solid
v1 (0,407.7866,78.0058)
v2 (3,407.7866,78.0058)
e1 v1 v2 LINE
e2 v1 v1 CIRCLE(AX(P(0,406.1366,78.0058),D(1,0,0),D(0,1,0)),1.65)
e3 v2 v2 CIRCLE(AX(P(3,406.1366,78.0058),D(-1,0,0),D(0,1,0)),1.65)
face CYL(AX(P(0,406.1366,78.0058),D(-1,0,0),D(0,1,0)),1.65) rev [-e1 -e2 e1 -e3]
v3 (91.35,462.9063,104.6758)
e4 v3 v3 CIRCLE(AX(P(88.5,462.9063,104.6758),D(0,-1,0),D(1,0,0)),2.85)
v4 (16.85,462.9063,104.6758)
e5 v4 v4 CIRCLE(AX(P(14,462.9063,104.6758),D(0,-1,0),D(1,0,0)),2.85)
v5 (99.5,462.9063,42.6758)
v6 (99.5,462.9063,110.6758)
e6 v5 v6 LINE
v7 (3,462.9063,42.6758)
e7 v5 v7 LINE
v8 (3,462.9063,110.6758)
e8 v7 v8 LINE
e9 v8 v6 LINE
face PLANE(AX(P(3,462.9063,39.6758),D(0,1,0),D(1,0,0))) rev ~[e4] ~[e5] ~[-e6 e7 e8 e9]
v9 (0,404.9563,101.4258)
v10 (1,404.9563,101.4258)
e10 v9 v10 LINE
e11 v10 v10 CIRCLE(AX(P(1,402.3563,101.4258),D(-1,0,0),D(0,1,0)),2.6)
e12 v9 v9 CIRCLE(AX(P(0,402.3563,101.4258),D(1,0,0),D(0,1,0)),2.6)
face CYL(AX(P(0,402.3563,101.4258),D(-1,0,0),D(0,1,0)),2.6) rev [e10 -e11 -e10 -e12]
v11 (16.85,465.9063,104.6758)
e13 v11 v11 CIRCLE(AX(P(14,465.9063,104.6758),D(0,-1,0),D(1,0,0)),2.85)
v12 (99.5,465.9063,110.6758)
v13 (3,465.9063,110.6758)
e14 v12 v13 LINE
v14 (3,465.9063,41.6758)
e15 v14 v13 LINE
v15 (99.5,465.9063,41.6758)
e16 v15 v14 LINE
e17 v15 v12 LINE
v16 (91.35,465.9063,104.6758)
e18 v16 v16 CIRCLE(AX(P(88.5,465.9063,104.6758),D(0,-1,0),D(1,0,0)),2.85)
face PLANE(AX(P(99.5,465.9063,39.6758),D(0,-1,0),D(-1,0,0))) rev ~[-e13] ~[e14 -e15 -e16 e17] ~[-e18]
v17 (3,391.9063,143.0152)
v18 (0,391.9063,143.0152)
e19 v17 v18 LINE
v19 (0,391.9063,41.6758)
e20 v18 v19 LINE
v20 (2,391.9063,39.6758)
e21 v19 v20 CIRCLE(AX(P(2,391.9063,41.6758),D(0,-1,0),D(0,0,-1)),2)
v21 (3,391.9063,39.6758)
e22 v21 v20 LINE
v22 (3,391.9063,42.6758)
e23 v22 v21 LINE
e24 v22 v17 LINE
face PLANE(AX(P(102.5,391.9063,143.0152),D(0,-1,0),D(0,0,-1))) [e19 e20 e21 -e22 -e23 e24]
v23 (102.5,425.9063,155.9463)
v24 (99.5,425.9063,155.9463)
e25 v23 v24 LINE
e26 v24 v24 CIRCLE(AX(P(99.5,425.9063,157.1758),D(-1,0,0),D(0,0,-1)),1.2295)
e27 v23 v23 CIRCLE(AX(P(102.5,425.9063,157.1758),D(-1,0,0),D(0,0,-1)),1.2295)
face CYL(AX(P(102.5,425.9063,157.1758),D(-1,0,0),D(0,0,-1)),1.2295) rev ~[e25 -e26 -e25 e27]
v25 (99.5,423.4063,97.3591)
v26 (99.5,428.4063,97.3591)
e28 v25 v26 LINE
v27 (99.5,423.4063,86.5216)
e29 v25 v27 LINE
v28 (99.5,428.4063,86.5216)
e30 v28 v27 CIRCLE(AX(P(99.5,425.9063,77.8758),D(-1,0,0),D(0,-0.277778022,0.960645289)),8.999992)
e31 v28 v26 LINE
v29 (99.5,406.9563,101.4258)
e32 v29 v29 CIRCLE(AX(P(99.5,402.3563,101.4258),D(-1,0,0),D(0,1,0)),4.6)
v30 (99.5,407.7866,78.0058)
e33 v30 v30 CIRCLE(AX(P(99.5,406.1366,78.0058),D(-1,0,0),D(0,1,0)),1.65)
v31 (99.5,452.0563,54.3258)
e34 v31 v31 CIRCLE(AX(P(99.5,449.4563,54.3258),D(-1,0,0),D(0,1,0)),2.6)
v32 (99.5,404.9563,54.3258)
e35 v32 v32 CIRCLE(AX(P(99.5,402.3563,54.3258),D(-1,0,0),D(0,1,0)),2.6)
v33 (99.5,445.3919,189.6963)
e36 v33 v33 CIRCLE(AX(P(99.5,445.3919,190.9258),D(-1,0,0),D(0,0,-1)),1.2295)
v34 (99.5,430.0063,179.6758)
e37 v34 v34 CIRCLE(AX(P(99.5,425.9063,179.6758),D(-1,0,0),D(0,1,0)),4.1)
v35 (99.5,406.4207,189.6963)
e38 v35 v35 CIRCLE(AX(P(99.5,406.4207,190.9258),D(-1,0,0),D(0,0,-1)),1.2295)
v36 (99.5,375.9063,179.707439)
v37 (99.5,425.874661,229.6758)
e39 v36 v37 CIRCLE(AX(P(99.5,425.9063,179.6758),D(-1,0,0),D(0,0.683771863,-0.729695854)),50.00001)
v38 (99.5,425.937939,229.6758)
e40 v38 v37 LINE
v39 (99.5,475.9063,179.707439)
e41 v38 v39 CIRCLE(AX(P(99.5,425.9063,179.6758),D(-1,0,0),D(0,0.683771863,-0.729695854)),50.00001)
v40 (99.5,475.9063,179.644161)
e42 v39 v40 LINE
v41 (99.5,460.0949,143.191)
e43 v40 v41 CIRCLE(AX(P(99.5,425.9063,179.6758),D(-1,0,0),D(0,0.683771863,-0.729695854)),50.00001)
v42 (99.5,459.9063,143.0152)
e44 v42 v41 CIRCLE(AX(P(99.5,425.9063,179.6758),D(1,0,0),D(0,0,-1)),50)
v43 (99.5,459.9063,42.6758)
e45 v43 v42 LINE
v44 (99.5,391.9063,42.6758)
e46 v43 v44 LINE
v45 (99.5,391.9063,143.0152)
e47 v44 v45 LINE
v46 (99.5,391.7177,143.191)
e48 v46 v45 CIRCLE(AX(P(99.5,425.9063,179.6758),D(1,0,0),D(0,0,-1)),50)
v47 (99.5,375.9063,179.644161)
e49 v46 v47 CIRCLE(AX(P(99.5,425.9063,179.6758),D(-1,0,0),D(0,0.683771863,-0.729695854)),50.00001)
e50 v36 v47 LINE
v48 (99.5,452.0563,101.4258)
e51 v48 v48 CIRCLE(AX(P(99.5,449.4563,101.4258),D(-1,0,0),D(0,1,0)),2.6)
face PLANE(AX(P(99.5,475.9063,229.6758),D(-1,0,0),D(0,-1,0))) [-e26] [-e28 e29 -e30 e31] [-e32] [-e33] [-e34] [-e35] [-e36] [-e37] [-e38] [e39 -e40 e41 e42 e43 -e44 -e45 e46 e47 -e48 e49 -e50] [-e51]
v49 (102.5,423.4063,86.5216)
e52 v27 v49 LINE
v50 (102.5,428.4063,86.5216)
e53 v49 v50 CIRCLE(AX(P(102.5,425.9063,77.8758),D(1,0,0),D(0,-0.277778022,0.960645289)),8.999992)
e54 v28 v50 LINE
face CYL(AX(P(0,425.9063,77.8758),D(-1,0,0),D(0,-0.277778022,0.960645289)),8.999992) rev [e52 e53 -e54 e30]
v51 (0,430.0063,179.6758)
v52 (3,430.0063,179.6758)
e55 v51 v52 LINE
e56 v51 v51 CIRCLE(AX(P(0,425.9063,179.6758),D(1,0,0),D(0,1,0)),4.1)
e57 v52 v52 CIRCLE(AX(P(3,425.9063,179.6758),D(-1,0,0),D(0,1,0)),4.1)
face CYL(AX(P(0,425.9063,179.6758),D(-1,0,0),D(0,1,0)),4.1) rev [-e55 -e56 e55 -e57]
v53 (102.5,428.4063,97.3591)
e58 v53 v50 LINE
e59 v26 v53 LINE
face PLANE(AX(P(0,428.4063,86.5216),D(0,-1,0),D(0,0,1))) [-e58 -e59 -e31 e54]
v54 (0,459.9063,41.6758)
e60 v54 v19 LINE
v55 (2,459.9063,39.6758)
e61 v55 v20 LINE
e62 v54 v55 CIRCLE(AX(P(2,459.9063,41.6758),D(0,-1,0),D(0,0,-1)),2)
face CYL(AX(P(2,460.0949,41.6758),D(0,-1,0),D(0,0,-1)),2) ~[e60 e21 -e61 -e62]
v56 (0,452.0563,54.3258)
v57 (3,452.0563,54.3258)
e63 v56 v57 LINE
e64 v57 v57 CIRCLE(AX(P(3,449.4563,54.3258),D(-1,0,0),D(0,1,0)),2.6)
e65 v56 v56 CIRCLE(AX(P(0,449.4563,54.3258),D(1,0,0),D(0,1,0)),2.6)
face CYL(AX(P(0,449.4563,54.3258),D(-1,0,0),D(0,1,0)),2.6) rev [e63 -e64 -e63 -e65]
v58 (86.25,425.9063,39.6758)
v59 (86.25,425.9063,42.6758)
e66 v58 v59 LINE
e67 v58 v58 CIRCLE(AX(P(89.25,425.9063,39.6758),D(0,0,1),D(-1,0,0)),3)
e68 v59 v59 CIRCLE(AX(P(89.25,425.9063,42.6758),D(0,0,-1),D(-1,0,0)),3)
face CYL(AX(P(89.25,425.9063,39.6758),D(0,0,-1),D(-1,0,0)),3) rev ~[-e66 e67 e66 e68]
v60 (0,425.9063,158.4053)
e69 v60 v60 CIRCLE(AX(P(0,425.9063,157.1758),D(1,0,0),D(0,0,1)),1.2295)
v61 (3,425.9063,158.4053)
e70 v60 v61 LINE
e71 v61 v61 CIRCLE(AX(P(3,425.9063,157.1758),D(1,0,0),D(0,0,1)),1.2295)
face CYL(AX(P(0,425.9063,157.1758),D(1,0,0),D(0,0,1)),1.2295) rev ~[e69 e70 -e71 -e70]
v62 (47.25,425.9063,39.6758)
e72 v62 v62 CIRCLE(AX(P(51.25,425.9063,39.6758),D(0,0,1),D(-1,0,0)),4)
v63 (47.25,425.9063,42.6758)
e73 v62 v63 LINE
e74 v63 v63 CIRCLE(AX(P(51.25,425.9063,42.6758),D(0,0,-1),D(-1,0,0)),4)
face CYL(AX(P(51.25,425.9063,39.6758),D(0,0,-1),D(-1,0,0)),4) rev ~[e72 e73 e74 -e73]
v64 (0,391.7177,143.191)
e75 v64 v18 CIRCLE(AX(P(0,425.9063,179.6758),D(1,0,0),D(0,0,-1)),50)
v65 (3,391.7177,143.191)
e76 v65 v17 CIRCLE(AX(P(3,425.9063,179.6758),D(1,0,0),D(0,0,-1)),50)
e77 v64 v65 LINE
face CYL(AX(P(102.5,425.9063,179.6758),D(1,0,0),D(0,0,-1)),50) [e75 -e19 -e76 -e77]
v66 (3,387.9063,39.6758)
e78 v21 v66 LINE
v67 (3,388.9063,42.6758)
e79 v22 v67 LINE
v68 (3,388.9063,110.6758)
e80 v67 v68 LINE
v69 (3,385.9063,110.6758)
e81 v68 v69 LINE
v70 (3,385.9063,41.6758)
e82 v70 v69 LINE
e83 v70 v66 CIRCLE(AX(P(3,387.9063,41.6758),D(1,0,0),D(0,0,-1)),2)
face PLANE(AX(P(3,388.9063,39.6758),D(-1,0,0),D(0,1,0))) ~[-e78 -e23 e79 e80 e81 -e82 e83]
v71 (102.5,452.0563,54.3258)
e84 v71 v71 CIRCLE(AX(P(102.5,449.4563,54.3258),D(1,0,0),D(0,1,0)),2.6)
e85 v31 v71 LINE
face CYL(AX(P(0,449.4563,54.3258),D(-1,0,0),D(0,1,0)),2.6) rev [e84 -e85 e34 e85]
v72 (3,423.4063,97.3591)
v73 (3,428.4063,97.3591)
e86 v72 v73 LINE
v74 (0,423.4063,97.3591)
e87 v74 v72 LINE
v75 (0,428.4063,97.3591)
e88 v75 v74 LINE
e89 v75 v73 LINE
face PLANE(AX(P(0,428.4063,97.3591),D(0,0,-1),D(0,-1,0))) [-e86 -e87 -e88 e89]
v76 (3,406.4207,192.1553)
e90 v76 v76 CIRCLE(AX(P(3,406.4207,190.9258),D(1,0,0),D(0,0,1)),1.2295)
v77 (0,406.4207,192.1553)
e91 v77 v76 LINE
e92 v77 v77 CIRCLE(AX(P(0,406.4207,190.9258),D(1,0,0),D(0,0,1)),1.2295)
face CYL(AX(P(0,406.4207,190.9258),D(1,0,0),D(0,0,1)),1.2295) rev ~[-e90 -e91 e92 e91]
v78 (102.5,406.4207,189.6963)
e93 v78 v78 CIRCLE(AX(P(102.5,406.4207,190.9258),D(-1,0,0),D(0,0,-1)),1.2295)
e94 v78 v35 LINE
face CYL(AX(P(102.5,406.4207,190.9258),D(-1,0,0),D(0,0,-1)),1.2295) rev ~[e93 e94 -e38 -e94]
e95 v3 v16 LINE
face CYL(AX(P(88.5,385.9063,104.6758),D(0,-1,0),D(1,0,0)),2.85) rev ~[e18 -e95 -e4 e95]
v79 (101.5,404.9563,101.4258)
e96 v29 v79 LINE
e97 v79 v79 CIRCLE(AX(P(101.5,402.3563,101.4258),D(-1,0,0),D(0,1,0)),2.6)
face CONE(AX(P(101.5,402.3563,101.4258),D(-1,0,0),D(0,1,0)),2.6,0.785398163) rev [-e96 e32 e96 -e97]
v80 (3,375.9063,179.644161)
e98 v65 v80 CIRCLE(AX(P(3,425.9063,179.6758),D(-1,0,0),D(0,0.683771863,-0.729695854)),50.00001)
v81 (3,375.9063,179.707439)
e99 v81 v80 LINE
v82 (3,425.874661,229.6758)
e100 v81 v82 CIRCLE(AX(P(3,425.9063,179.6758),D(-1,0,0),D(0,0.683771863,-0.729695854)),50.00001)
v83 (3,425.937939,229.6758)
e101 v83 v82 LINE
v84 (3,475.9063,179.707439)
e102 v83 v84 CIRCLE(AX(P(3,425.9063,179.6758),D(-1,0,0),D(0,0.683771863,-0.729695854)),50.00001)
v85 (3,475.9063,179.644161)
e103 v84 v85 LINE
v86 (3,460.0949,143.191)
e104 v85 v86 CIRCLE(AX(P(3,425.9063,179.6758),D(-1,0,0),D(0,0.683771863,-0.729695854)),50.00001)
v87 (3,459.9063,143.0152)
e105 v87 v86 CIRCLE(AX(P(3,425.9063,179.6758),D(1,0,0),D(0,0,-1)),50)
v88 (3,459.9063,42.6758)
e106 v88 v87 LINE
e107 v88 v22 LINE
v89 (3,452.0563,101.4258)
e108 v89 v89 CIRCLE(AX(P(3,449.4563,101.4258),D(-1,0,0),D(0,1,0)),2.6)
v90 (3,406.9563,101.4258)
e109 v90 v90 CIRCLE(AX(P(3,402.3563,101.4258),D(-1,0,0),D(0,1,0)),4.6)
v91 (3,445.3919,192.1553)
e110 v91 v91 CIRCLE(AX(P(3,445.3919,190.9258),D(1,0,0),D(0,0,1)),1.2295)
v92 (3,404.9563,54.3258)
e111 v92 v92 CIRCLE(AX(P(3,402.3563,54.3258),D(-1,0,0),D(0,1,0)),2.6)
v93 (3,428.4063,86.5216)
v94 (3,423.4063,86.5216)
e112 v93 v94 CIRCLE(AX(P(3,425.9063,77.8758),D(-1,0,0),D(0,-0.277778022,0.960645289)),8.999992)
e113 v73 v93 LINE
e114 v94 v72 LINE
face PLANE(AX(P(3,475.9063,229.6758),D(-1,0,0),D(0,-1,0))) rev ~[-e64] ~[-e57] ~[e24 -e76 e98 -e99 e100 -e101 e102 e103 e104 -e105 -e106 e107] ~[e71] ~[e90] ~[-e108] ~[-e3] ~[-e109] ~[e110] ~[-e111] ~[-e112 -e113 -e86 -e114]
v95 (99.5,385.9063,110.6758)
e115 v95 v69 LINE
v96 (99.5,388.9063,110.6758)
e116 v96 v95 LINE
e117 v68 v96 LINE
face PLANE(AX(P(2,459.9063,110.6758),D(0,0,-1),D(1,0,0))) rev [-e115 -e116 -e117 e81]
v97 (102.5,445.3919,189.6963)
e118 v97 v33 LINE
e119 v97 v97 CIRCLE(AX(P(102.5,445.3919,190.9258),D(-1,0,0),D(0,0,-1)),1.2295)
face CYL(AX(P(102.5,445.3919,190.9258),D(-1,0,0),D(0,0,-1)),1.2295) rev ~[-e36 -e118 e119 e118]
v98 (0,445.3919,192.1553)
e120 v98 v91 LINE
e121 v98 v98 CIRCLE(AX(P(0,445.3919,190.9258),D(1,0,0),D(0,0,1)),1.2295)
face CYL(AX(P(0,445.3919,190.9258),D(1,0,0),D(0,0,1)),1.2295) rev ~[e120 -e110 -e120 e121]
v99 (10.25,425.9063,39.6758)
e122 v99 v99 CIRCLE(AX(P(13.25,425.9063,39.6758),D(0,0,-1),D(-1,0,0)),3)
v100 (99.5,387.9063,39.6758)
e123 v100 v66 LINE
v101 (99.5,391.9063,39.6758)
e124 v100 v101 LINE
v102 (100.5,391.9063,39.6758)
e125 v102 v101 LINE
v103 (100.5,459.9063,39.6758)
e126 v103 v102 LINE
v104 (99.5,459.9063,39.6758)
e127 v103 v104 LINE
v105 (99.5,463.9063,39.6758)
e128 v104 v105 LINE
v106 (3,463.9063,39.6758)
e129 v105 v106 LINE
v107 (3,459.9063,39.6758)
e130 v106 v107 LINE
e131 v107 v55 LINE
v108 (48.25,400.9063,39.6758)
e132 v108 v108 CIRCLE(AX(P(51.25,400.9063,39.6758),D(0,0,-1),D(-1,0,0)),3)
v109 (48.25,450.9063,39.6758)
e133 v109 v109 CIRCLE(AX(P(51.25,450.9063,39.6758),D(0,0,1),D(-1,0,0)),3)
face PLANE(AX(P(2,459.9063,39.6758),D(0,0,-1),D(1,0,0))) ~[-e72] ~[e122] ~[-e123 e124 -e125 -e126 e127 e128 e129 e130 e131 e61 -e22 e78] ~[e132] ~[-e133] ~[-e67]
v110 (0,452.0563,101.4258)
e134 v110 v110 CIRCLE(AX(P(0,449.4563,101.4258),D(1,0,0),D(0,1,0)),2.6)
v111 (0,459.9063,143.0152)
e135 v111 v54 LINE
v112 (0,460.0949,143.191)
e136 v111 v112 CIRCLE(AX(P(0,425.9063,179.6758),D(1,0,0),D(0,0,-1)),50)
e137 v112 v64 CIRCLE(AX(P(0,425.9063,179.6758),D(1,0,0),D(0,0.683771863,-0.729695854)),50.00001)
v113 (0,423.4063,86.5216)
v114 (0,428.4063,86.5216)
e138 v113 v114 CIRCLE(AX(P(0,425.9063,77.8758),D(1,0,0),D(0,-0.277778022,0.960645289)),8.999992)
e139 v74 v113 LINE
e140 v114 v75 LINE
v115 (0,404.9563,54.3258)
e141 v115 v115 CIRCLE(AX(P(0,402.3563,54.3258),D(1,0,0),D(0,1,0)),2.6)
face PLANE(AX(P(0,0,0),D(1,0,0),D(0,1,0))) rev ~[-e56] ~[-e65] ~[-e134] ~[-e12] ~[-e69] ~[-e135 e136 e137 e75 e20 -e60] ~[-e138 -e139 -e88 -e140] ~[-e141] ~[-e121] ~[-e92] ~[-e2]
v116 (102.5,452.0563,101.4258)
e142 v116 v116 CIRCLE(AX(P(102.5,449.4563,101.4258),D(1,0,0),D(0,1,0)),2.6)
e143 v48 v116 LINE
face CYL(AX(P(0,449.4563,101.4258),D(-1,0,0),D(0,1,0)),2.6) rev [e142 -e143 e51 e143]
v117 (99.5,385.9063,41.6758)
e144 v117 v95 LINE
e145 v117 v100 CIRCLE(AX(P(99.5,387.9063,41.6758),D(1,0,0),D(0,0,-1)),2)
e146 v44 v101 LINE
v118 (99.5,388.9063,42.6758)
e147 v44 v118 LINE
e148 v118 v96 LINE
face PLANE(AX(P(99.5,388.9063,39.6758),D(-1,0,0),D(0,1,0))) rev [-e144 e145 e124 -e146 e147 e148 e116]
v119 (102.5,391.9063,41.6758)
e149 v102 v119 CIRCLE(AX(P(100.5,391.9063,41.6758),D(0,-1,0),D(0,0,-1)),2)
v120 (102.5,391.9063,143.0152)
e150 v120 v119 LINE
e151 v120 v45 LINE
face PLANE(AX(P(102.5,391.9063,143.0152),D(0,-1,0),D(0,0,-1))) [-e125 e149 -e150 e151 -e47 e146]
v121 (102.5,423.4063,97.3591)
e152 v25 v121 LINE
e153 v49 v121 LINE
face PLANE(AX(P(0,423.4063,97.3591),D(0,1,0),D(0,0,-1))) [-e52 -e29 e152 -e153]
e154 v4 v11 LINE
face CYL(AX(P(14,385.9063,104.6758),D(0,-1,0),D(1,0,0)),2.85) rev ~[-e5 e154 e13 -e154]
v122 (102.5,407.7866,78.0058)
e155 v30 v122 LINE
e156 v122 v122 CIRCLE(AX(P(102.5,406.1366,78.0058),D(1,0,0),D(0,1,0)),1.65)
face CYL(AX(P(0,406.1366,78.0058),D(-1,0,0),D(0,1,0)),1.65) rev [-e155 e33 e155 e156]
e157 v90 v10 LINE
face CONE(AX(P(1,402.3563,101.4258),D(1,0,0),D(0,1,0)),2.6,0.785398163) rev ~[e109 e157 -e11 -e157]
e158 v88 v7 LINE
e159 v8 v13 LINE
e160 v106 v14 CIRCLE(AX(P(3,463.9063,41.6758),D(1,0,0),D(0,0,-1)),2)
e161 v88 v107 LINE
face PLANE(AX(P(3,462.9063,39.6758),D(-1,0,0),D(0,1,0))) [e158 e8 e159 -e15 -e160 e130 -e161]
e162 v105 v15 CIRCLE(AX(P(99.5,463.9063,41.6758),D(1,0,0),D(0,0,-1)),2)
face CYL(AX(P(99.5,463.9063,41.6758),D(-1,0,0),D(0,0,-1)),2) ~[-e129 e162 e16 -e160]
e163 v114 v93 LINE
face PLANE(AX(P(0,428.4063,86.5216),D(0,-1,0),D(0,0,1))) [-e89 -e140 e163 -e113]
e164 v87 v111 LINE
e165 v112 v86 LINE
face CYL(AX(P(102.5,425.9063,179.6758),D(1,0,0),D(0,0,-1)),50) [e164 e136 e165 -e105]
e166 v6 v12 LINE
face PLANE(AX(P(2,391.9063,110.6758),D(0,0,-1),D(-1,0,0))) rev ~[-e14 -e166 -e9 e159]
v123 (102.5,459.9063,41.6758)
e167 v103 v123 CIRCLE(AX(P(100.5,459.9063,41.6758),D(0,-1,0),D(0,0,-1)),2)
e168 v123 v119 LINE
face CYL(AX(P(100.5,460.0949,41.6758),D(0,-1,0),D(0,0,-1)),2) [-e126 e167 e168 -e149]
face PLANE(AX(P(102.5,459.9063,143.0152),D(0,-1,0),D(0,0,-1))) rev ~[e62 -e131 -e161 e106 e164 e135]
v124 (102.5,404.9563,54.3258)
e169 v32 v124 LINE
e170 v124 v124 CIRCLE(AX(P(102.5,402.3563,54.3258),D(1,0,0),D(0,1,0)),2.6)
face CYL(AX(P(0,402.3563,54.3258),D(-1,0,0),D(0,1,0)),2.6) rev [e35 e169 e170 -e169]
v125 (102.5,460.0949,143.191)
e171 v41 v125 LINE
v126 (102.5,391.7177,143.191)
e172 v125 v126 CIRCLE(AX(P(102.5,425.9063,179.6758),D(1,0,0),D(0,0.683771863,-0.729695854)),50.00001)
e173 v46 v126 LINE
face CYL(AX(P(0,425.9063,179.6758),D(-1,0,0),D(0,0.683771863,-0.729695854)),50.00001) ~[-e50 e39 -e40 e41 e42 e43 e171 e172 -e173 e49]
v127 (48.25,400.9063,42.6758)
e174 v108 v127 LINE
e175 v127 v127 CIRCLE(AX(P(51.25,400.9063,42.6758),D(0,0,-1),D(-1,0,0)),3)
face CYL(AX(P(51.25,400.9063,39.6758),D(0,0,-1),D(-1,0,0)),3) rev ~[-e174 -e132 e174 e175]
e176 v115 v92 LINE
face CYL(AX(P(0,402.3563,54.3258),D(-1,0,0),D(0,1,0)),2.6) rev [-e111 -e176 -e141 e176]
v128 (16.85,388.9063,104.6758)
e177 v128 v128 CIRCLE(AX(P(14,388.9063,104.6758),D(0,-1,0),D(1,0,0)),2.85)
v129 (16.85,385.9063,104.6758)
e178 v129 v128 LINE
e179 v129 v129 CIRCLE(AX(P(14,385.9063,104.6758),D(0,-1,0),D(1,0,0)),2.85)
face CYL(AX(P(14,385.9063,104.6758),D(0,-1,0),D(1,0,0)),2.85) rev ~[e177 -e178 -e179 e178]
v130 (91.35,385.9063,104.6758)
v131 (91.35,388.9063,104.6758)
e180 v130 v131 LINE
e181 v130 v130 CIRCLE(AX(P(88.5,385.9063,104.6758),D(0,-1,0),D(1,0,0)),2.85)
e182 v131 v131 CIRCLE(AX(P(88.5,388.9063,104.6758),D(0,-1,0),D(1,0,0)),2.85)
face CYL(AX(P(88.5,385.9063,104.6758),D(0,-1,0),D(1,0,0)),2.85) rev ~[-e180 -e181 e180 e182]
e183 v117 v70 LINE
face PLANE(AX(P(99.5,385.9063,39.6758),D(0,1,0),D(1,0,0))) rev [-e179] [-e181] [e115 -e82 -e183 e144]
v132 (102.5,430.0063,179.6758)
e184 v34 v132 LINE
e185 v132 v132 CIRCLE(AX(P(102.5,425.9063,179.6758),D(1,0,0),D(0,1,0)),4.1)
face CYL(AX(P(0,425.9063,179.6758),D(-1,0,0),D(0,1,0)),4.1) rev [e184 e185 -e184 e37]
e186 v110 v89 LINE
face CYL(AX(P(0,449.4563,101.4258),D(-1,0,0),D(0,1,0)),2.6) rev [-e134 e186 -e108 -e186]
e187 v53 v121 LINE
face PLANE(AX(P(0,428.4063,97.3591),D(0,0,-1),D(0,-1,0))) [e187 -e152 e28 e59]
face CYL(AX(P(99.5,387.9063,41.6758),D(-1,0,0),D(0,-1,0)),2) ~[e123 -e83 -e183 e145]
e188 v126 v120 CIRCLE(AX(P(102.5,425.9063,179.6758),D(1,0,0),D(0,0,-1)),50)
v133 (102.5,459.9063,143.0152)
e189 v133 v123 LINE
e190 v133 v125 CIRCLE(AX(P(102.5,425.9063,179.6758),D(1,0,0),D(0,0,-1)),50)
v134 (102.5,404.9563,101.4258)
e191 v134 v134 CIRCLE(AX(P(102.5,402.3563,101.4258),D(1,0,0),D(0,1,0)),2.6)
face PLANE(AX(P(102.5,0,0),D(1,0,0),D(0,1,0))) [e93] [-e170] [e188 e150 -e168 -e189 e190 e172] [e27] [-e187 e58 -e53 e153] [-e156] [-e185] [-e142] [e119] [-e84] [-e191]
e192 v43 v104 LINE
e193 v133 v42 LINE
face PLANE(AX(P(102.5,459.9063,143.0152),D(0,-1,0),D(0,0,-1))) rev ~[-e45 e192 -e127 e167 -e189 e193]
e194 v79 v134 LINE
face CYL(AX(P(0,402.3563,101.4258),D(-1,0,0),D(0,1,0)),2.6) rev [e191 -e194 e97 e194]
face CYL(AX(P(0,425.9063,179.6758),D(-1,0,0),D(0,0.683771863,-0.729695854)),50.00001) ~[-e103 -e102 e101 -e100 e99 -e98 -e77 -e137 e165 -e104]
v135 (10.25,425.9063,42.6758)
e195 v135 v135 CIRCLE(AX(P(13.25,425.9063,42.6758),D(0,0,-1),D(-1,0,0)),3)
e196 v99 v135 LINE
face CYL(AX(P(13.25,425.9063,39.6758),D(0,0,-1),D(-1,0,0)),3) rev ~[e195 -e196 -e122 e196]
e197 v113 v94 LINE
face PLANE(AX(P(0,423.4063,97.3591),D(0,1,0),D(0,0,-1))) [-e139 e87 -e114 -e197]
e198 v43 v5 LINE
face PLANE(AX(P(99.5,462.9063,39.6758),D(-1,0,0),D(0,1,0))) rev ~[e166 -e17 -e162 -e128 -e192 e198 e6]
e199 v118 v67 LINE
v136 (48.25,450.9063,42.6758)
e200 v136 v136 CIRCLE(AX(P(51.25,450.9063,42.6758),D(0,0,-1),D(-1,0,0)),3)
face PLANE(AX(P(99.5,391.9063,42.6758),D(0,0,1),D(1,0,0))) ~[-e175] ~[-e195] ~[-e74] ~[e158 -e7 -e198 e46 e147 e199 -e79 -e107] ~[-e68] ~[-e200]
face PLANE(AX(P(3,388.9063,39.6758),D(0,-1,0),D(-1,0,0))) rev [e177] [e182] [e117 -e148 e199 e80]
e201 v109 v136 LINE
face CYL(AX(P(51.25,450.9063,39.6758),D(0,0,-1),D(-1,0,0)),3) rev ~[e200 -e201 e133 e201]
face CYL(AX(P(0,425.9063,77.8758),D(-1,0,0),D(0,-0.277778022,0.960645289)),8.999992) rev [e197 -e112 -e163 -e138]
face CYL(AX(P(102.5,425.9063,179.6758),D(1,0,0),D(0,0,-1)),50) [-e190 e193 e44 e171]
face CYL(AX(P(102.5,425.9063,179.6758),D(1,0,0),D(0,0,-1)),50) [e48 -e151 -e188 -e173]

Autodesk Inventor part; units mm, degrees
ref_plane "YZ Plane" through (0, 0, 0) normal (1, 0, 0) x (0, 1, 0)
sketch "Szkic1" plane through (0, 0, 0) normal (1, 0, 0) x (0, 1, 0)
  circle A0 centre (425.9063, 179.6758) radius 4.1
  line L0 (460.0949, 39.6758) -> (391.7177, 39.6758)
  line L1 (428.4063, 86.5216) -> (428.4063, 97.3591)
  line L2 (428.4063, 97.3591) -> (423.4063, 97.3591)
  line L3 (423.4063, 97.3591) -> (423.4063, 86.5216)
  arc A1 (423.4063, 86.5216) -> (428.4063, 86.5216) centre (425.9063, 77.8758) ccw
  circle A2 centre (406.1366, 78.0058) radius 1.65
  line L4 (460.0949, 143.191) -> (460.0949, 39.6758)
  arc A3 (460.0949, 143.191) -> (391.7177, 143.191) centre (425.9063, 179.6758) ccw
  line L5 (391.7177, 39.6758) -> (391.7177, 143.191)
  circle A4 centre (449.4563, 101.4258) radius 2.6
  circle A5 centre (402.3563, 101.4258) radius 2.6
  circle A6 centre (402.3563, 54.3258) radius 2.6
  circle A7 centre (449.4563, 54.3258) radius 2.6
  line L6 (423.4063, 95.8758) -> (428.4063, 95.8758)
  point P0 (0, 0)
  point P1 (391.7177, 143.191)
  dimension "d0" = 5.2
  dimension "d1" = 50
  dimension "d2" = 8.2
  dimension "d3" = 9
  dimension "d4" = 3.3
  dimension "d5" = 31.6886
  dimension "d6" = 36.6886
  dimension "d7" = 68.3772
  dimension "d8" = 1.4833
  dimension "d9" = 57.6833
  dimension "d10" = 0
  dimension "d11" = 45.8319
  dimension "d12" = 45.8319
  dimension "d13" = 57.6833
  dimension "d14" = 0
  dimension "d15" = 10.6386
  dimension "d16" = 4.0667
  dimension "d17" = 10.6386
  dimension "d18" = 43.0333
  dimension "d19" = 31.6886
  dimension "d20" = 0
  dimension "d21" = 31.6886
  dimension "d22" = 10.8375
  dimension "d23" = 31.6886
  dimension "d24" = 10.8375
  dimension "d25" = 34.1886
  dimension "d26" = 34.1886
  dimension "d27" = 36.6886
  dimension "d28" = 0
  dimension "d29" = 36.6886
  dimension "d30" = 10.8375
  dimension "d31" = 36.6886
  dimension "d32" = 22.2697
  dimension "d33" = 19.3533
  dimension "d34" = 57.7386
  dimension "d35" = 4.0667
  dimension "d36" = 57.7386
  dimension "d37" = 43.0333
  dimension "d38" = 68.3772
  dimension "d39" = 45.8319
  dimension "d40" = 68.3772
  dimension "d41" = 57.6833
extrude "Wyciągnięcie proste1" add sketch "Szkic1" along normal blind 102.5
ref_plane "Płaszczyzna konstrukcyjna1" through (102.5, 425.9063, 229.6758) normal (0, 0, -1) x (-1, 0, 0)
sketch "Szkic2" plane through (102.5, 425.9063, 229.6758) normal (0, 0, -1) x (-1, 0, 0)
  line L0 (102.5, 50) -> (0, 50) projected
  line L1 (99.5, 50) -> (99.5, -50)
  line L2 (102.5, -50) -> (0, -50) projected
  line L3 (3, 50) -> (3, -50)
  line L4 (102.5, 50) -> (102.5, -50) projected
  line L5 (0, 50) -> (0, -50) projected
  line L6 (99.5, 50) -> (3, 50)
  line L7 (3, -50) -> (99.5, -50)
  point P0 (102.5, -425.9063)
  point P1 (102.5, 34.1886)
  point P2 (102.5, -34.1886)
  point P3 (0, 34.1886)
  point P4 (0, -34.1886)
  point P5 (3, 50)
  dimension "d44" = 3
  dimension "d45" = 3
extrude "Wyciągnięcie proste2" cut sketch "Szkic2" along normal blind 187 contours L1 L2 L3 L0
fillet "Zaokrąglenie1" radius 2 2 edges at (0, 425.9063, 39.6758) (102.5, 425.9063, 39.6758)
sketch "Szkic3" plane through (102.5, 0, 0) normal (1, 0, 0) x (0, 0, -1)
  circle A0 centre (-179.6758, 425.9063) radius 4.1 projected
  circle A1 centre (-179.6758, 425.9063) radius 50
  line L0 (-143.0152, 391.9063) -> (-39.6758, 391.9063)
  line L1 (-39.6758, 391.7177) -> (-39.6758, 460.0949) projected
  line L2 (-143.0152, 459.9063) -> (-39.6758, 459.9063)
  line L3 (-39.6758, 425.9063) -> (-57.2336, 425.9063)
  line L4 (-143.191, 391.7177) -> (-41.6758, 391.7177) projected
  line L5 (-41.6758, 460.0949) -> (-143.191, 460.0949) projected
  line L6 (-39.6758, 391.7177) -> (-41.6758, 391.7177) projected
  line L7 (-41.6758, 460.0949) -> (-39.6758, 460.0949) projected
  point P0 (0, 0)
  dimension "d49" = 68
  dimension "d50" = 34
  dimension "d51" = 100
extrude "Wyciągnięcie proste3" cut sketch "Szkic3" against normal through all contours A1 L5 L7 L1 L2 | L0 L1 L6 L4 A1
sketch "Szkic4" plane through (102.5, 459.9063, 143.0152) normal (0, 1, 0) x (1, 0, 0)
  line L0 (-3, 100.3394) -> (-99.5, 100.3394) projected
  line L1 (-100.5, 103.3394) -> (-2, 103.3394) projected
  line L2 (-3, 100.3394) -> (-3, 103.3394)
  line L3 (-2, 103.3394) -> (-100.5, 103.3394) projected
  line L4 (0, 101.3394) -> (0, 0) projected
  line L5 (-99.5, 100.3394) -> (-99.5, 103.3394)
  point P0 (-102.5, 143.0152)
  point P1 (-3, 103.3394)
  dimension "d54" = 3
extrude "Wyciągnięcie proste4" add sketch "Szkic4" along normal blind 3
ref_plane "Płaszczyzna konstrukcyjna2" through (102.5, 425.9063, 41.6758) normal (0, -1, 0) x (1, 0, 0)
mirror "Odbij1" about plane through (102.5, 425.9063, 41.6758) normal (0, -1, 0) of "Wyciągnięcie proste4"
sketch "Szkic5" plane through (2, 391.9063, 39.6758) normal (0, 0, -1) x (-1, 0, 0)
  line L0 (-1, 71) -> (-97.5, 71) projected
  line L1 (-97.5, 71) -> (-97.5, 74)
  line L2 (-97.5, -16) -> (-97.5, 84) projected
  line L3 (-97.5, 74) -> (-1, 74)
  line L4 (-1, -16) -> (-1, 84) projected
  line L5 (-1, 74) -> (-1, 71)
  line L6 (-1, 71) -> (-97.5, 71)
  line L7 (-97.5, 0) -> (-1, 0)
  line L8 (-1, 0) -> (-1, -3)
  line L9 (-1, -3) -> (-97.5, -3)
  line L10 (-97.5, -3) -> (-97.5, 0)
  point P0 (2, -391.9063)
  point P1 (-97.5, 68)
  point P2 (-1, 68)
  dimension "d57" = 3
  dimension "d58" = 3
extrude "Wyciągnięcie proste5" add sketch "Szkic5" against normal blind 71 contours L0 L1 L3 L4
mirror "Odbij2" about plane through (102.5, 425.9063, 41.6758) normal (0, -1, 0) of "Wyciągnięcie proste5"
fillet "Zaokrąglenie2" radius 2 2 edges at (51.25, 465.9063, 39.6758) (51.25, 385.9063, 39.6758)
sketch "Szkic6" plane through (3, 385.9063, 110.6758) normal (0, -1, 0) x (1, 0, 0)
  circle A0 centre (85.5, -6) radius 2.85
  circle A1 centre (11, -6) radius 2.85
  line L0 (0, -69) -> (0, 0) projected
  line L1 (0, -71) -> (96.5, -71) projected
  line L2 (96.5, -69) -> (96.5, 0) projected
  point P0 (-3, -110.6758)
  dimension "d62" = 5.7
  dimension "d63" = 5.7
  dimension "d64" = 11
  dimension "d65" = 65
  dimension "d66" = 11
  dimension "d67" = 65
extrude "Wyciągnięcie proste6" cut sketch "Szkic6" against normal through all
sketch "Szkic7" plane through (99.5, 425.9063, 179.6758) normal (-1, 0, 0) x (0, 0, 1)
  circle A0 centre (-78.25, -23.55) radius 2.6 projected
  circle A1 centre (-78.25, -23.55) radius 6
  point P0 (-179.6758, -425.9063)
  dimension "d70" = 12
chamfer "Faza1" distance 2 angle 45 1 edges at (99.5, 399.7563, 101.4258)
chamfer "Faza2" distance 2 angle 45 1 edges at (3, 399.7563, 101.4258)
sketch "Szkic8" plane through (102.5, 0, 0) normal (1, 0, 0) x (0, 0, -1)
  point P0 (-190.9258, 406.4207)
  point P1 (-190.9258, 445.3919)
  point P2 (-157.1758, 425.9063)
hole "Otwór1" at (102.5, 406.4207, 190.9258) at (102.5, 445.3919, 190.9258) at (102.5, 425.9063, 157.1758) direction (-1, 0, 0) diameter 2.459 depth 4.25 tip angle 120 thread size "M3x0.5" class "6H" standard "ISO Metric profile"
sketch "Szkic9" plane through (2, 391.9063, 39.6758) normal (0, 0, -1) x (-1, 0, 0)
  circle A0 centre (-49.25, 34) radius 4
  line L0 (-1, 74) -> (-97.5, 74) projected
  line L1 (-100.5, 68) -> (-100.5, 0) projected
  line L2 (-49.25, 34) -> (-93.3771, 34)
  line L3 (-49.25, 34) -> (-49.25, 64.9059)
  circle A1 centre (-87.25, 34) radius 3
  circle A2 centre (-49.25, 59) radius 3
  circle A3 centre (-11.25, 34) radius 3
  circle A4 centre (-49.25, 9) radius 3
  point P0 (2, -391.9063)
  dimension "d84" = 8
  dimension "d85" = 40
  dimension "d86" = 51.25
  dimension "d89" = 6
  dimension "d90" = 6
  dimension "d91" = 38
  dimension "d92" = 25
  dimension "d93" = 6
  dimension "d94" = 38
  dimension "d95" = 6
  dimension "d96" = 25
extrude "Wyciągnięcie proste7" cut sketch "Szkic9" against normal blind 71
sketch "Szkic10" plane through (0, 0, 0) normal (-1, 0, 0) x (0, 0, 1)
  point P0 (190.9258, 406.4207)
  point P1 (157.1758, 425.9063)
  point P2 (190.9258, 445.3919)
hole "Otwór2" at (0, 406.4207, 190.9258) at (0, 425.9063, 157.1758) at (0, 445.3919, 190.9258) direction (1, 0, 0) diameter 2.459 depth 4.25 tip angle 120 thread size "M3x0.5" class "6H" standard "ISO Metric profile"
sketch "Szkic11" plane through (102.5, 0, 0) normal (1, 0, 0) x (0, 0, -1)
  circle A0 centre (-190.9258, 445.3919) radius 1.2295 projected
  circle A1 centre (-190.9258, 445.3919) radius 1.2295
  circle A2 centre (-179.6758, 425.9063) radius 4.1 projected
  circle A3 centre (-179.6758, 425.9063) radius 4.1
  point P0 (0, 0)
equation "\"PromieńGięcia\" = Grubość"
equation "\"SzerokośćGięciaPodcięcia\" = Grubość"
equation "\"GłębokośćGięciaPodcięcia\" = 0.5 * Grubość"
equation "\"RozmiarPodcięciaNarożnika\" = 4 * Grubość"
equation "\"MinimalnaPozostałość\" = 2 * Grubość"
equation "\"PromieńPrzejścia\" = PromieńGięcia"
equation "\"Rozmiar_promienia_Jacobiego\" = PromieńGięcia"
equation "\"Wielk_odstępu\" = Grubość"
equation "\"Grubość\" = 3"
properties part number "wzmocnienie2M1Dedit"
